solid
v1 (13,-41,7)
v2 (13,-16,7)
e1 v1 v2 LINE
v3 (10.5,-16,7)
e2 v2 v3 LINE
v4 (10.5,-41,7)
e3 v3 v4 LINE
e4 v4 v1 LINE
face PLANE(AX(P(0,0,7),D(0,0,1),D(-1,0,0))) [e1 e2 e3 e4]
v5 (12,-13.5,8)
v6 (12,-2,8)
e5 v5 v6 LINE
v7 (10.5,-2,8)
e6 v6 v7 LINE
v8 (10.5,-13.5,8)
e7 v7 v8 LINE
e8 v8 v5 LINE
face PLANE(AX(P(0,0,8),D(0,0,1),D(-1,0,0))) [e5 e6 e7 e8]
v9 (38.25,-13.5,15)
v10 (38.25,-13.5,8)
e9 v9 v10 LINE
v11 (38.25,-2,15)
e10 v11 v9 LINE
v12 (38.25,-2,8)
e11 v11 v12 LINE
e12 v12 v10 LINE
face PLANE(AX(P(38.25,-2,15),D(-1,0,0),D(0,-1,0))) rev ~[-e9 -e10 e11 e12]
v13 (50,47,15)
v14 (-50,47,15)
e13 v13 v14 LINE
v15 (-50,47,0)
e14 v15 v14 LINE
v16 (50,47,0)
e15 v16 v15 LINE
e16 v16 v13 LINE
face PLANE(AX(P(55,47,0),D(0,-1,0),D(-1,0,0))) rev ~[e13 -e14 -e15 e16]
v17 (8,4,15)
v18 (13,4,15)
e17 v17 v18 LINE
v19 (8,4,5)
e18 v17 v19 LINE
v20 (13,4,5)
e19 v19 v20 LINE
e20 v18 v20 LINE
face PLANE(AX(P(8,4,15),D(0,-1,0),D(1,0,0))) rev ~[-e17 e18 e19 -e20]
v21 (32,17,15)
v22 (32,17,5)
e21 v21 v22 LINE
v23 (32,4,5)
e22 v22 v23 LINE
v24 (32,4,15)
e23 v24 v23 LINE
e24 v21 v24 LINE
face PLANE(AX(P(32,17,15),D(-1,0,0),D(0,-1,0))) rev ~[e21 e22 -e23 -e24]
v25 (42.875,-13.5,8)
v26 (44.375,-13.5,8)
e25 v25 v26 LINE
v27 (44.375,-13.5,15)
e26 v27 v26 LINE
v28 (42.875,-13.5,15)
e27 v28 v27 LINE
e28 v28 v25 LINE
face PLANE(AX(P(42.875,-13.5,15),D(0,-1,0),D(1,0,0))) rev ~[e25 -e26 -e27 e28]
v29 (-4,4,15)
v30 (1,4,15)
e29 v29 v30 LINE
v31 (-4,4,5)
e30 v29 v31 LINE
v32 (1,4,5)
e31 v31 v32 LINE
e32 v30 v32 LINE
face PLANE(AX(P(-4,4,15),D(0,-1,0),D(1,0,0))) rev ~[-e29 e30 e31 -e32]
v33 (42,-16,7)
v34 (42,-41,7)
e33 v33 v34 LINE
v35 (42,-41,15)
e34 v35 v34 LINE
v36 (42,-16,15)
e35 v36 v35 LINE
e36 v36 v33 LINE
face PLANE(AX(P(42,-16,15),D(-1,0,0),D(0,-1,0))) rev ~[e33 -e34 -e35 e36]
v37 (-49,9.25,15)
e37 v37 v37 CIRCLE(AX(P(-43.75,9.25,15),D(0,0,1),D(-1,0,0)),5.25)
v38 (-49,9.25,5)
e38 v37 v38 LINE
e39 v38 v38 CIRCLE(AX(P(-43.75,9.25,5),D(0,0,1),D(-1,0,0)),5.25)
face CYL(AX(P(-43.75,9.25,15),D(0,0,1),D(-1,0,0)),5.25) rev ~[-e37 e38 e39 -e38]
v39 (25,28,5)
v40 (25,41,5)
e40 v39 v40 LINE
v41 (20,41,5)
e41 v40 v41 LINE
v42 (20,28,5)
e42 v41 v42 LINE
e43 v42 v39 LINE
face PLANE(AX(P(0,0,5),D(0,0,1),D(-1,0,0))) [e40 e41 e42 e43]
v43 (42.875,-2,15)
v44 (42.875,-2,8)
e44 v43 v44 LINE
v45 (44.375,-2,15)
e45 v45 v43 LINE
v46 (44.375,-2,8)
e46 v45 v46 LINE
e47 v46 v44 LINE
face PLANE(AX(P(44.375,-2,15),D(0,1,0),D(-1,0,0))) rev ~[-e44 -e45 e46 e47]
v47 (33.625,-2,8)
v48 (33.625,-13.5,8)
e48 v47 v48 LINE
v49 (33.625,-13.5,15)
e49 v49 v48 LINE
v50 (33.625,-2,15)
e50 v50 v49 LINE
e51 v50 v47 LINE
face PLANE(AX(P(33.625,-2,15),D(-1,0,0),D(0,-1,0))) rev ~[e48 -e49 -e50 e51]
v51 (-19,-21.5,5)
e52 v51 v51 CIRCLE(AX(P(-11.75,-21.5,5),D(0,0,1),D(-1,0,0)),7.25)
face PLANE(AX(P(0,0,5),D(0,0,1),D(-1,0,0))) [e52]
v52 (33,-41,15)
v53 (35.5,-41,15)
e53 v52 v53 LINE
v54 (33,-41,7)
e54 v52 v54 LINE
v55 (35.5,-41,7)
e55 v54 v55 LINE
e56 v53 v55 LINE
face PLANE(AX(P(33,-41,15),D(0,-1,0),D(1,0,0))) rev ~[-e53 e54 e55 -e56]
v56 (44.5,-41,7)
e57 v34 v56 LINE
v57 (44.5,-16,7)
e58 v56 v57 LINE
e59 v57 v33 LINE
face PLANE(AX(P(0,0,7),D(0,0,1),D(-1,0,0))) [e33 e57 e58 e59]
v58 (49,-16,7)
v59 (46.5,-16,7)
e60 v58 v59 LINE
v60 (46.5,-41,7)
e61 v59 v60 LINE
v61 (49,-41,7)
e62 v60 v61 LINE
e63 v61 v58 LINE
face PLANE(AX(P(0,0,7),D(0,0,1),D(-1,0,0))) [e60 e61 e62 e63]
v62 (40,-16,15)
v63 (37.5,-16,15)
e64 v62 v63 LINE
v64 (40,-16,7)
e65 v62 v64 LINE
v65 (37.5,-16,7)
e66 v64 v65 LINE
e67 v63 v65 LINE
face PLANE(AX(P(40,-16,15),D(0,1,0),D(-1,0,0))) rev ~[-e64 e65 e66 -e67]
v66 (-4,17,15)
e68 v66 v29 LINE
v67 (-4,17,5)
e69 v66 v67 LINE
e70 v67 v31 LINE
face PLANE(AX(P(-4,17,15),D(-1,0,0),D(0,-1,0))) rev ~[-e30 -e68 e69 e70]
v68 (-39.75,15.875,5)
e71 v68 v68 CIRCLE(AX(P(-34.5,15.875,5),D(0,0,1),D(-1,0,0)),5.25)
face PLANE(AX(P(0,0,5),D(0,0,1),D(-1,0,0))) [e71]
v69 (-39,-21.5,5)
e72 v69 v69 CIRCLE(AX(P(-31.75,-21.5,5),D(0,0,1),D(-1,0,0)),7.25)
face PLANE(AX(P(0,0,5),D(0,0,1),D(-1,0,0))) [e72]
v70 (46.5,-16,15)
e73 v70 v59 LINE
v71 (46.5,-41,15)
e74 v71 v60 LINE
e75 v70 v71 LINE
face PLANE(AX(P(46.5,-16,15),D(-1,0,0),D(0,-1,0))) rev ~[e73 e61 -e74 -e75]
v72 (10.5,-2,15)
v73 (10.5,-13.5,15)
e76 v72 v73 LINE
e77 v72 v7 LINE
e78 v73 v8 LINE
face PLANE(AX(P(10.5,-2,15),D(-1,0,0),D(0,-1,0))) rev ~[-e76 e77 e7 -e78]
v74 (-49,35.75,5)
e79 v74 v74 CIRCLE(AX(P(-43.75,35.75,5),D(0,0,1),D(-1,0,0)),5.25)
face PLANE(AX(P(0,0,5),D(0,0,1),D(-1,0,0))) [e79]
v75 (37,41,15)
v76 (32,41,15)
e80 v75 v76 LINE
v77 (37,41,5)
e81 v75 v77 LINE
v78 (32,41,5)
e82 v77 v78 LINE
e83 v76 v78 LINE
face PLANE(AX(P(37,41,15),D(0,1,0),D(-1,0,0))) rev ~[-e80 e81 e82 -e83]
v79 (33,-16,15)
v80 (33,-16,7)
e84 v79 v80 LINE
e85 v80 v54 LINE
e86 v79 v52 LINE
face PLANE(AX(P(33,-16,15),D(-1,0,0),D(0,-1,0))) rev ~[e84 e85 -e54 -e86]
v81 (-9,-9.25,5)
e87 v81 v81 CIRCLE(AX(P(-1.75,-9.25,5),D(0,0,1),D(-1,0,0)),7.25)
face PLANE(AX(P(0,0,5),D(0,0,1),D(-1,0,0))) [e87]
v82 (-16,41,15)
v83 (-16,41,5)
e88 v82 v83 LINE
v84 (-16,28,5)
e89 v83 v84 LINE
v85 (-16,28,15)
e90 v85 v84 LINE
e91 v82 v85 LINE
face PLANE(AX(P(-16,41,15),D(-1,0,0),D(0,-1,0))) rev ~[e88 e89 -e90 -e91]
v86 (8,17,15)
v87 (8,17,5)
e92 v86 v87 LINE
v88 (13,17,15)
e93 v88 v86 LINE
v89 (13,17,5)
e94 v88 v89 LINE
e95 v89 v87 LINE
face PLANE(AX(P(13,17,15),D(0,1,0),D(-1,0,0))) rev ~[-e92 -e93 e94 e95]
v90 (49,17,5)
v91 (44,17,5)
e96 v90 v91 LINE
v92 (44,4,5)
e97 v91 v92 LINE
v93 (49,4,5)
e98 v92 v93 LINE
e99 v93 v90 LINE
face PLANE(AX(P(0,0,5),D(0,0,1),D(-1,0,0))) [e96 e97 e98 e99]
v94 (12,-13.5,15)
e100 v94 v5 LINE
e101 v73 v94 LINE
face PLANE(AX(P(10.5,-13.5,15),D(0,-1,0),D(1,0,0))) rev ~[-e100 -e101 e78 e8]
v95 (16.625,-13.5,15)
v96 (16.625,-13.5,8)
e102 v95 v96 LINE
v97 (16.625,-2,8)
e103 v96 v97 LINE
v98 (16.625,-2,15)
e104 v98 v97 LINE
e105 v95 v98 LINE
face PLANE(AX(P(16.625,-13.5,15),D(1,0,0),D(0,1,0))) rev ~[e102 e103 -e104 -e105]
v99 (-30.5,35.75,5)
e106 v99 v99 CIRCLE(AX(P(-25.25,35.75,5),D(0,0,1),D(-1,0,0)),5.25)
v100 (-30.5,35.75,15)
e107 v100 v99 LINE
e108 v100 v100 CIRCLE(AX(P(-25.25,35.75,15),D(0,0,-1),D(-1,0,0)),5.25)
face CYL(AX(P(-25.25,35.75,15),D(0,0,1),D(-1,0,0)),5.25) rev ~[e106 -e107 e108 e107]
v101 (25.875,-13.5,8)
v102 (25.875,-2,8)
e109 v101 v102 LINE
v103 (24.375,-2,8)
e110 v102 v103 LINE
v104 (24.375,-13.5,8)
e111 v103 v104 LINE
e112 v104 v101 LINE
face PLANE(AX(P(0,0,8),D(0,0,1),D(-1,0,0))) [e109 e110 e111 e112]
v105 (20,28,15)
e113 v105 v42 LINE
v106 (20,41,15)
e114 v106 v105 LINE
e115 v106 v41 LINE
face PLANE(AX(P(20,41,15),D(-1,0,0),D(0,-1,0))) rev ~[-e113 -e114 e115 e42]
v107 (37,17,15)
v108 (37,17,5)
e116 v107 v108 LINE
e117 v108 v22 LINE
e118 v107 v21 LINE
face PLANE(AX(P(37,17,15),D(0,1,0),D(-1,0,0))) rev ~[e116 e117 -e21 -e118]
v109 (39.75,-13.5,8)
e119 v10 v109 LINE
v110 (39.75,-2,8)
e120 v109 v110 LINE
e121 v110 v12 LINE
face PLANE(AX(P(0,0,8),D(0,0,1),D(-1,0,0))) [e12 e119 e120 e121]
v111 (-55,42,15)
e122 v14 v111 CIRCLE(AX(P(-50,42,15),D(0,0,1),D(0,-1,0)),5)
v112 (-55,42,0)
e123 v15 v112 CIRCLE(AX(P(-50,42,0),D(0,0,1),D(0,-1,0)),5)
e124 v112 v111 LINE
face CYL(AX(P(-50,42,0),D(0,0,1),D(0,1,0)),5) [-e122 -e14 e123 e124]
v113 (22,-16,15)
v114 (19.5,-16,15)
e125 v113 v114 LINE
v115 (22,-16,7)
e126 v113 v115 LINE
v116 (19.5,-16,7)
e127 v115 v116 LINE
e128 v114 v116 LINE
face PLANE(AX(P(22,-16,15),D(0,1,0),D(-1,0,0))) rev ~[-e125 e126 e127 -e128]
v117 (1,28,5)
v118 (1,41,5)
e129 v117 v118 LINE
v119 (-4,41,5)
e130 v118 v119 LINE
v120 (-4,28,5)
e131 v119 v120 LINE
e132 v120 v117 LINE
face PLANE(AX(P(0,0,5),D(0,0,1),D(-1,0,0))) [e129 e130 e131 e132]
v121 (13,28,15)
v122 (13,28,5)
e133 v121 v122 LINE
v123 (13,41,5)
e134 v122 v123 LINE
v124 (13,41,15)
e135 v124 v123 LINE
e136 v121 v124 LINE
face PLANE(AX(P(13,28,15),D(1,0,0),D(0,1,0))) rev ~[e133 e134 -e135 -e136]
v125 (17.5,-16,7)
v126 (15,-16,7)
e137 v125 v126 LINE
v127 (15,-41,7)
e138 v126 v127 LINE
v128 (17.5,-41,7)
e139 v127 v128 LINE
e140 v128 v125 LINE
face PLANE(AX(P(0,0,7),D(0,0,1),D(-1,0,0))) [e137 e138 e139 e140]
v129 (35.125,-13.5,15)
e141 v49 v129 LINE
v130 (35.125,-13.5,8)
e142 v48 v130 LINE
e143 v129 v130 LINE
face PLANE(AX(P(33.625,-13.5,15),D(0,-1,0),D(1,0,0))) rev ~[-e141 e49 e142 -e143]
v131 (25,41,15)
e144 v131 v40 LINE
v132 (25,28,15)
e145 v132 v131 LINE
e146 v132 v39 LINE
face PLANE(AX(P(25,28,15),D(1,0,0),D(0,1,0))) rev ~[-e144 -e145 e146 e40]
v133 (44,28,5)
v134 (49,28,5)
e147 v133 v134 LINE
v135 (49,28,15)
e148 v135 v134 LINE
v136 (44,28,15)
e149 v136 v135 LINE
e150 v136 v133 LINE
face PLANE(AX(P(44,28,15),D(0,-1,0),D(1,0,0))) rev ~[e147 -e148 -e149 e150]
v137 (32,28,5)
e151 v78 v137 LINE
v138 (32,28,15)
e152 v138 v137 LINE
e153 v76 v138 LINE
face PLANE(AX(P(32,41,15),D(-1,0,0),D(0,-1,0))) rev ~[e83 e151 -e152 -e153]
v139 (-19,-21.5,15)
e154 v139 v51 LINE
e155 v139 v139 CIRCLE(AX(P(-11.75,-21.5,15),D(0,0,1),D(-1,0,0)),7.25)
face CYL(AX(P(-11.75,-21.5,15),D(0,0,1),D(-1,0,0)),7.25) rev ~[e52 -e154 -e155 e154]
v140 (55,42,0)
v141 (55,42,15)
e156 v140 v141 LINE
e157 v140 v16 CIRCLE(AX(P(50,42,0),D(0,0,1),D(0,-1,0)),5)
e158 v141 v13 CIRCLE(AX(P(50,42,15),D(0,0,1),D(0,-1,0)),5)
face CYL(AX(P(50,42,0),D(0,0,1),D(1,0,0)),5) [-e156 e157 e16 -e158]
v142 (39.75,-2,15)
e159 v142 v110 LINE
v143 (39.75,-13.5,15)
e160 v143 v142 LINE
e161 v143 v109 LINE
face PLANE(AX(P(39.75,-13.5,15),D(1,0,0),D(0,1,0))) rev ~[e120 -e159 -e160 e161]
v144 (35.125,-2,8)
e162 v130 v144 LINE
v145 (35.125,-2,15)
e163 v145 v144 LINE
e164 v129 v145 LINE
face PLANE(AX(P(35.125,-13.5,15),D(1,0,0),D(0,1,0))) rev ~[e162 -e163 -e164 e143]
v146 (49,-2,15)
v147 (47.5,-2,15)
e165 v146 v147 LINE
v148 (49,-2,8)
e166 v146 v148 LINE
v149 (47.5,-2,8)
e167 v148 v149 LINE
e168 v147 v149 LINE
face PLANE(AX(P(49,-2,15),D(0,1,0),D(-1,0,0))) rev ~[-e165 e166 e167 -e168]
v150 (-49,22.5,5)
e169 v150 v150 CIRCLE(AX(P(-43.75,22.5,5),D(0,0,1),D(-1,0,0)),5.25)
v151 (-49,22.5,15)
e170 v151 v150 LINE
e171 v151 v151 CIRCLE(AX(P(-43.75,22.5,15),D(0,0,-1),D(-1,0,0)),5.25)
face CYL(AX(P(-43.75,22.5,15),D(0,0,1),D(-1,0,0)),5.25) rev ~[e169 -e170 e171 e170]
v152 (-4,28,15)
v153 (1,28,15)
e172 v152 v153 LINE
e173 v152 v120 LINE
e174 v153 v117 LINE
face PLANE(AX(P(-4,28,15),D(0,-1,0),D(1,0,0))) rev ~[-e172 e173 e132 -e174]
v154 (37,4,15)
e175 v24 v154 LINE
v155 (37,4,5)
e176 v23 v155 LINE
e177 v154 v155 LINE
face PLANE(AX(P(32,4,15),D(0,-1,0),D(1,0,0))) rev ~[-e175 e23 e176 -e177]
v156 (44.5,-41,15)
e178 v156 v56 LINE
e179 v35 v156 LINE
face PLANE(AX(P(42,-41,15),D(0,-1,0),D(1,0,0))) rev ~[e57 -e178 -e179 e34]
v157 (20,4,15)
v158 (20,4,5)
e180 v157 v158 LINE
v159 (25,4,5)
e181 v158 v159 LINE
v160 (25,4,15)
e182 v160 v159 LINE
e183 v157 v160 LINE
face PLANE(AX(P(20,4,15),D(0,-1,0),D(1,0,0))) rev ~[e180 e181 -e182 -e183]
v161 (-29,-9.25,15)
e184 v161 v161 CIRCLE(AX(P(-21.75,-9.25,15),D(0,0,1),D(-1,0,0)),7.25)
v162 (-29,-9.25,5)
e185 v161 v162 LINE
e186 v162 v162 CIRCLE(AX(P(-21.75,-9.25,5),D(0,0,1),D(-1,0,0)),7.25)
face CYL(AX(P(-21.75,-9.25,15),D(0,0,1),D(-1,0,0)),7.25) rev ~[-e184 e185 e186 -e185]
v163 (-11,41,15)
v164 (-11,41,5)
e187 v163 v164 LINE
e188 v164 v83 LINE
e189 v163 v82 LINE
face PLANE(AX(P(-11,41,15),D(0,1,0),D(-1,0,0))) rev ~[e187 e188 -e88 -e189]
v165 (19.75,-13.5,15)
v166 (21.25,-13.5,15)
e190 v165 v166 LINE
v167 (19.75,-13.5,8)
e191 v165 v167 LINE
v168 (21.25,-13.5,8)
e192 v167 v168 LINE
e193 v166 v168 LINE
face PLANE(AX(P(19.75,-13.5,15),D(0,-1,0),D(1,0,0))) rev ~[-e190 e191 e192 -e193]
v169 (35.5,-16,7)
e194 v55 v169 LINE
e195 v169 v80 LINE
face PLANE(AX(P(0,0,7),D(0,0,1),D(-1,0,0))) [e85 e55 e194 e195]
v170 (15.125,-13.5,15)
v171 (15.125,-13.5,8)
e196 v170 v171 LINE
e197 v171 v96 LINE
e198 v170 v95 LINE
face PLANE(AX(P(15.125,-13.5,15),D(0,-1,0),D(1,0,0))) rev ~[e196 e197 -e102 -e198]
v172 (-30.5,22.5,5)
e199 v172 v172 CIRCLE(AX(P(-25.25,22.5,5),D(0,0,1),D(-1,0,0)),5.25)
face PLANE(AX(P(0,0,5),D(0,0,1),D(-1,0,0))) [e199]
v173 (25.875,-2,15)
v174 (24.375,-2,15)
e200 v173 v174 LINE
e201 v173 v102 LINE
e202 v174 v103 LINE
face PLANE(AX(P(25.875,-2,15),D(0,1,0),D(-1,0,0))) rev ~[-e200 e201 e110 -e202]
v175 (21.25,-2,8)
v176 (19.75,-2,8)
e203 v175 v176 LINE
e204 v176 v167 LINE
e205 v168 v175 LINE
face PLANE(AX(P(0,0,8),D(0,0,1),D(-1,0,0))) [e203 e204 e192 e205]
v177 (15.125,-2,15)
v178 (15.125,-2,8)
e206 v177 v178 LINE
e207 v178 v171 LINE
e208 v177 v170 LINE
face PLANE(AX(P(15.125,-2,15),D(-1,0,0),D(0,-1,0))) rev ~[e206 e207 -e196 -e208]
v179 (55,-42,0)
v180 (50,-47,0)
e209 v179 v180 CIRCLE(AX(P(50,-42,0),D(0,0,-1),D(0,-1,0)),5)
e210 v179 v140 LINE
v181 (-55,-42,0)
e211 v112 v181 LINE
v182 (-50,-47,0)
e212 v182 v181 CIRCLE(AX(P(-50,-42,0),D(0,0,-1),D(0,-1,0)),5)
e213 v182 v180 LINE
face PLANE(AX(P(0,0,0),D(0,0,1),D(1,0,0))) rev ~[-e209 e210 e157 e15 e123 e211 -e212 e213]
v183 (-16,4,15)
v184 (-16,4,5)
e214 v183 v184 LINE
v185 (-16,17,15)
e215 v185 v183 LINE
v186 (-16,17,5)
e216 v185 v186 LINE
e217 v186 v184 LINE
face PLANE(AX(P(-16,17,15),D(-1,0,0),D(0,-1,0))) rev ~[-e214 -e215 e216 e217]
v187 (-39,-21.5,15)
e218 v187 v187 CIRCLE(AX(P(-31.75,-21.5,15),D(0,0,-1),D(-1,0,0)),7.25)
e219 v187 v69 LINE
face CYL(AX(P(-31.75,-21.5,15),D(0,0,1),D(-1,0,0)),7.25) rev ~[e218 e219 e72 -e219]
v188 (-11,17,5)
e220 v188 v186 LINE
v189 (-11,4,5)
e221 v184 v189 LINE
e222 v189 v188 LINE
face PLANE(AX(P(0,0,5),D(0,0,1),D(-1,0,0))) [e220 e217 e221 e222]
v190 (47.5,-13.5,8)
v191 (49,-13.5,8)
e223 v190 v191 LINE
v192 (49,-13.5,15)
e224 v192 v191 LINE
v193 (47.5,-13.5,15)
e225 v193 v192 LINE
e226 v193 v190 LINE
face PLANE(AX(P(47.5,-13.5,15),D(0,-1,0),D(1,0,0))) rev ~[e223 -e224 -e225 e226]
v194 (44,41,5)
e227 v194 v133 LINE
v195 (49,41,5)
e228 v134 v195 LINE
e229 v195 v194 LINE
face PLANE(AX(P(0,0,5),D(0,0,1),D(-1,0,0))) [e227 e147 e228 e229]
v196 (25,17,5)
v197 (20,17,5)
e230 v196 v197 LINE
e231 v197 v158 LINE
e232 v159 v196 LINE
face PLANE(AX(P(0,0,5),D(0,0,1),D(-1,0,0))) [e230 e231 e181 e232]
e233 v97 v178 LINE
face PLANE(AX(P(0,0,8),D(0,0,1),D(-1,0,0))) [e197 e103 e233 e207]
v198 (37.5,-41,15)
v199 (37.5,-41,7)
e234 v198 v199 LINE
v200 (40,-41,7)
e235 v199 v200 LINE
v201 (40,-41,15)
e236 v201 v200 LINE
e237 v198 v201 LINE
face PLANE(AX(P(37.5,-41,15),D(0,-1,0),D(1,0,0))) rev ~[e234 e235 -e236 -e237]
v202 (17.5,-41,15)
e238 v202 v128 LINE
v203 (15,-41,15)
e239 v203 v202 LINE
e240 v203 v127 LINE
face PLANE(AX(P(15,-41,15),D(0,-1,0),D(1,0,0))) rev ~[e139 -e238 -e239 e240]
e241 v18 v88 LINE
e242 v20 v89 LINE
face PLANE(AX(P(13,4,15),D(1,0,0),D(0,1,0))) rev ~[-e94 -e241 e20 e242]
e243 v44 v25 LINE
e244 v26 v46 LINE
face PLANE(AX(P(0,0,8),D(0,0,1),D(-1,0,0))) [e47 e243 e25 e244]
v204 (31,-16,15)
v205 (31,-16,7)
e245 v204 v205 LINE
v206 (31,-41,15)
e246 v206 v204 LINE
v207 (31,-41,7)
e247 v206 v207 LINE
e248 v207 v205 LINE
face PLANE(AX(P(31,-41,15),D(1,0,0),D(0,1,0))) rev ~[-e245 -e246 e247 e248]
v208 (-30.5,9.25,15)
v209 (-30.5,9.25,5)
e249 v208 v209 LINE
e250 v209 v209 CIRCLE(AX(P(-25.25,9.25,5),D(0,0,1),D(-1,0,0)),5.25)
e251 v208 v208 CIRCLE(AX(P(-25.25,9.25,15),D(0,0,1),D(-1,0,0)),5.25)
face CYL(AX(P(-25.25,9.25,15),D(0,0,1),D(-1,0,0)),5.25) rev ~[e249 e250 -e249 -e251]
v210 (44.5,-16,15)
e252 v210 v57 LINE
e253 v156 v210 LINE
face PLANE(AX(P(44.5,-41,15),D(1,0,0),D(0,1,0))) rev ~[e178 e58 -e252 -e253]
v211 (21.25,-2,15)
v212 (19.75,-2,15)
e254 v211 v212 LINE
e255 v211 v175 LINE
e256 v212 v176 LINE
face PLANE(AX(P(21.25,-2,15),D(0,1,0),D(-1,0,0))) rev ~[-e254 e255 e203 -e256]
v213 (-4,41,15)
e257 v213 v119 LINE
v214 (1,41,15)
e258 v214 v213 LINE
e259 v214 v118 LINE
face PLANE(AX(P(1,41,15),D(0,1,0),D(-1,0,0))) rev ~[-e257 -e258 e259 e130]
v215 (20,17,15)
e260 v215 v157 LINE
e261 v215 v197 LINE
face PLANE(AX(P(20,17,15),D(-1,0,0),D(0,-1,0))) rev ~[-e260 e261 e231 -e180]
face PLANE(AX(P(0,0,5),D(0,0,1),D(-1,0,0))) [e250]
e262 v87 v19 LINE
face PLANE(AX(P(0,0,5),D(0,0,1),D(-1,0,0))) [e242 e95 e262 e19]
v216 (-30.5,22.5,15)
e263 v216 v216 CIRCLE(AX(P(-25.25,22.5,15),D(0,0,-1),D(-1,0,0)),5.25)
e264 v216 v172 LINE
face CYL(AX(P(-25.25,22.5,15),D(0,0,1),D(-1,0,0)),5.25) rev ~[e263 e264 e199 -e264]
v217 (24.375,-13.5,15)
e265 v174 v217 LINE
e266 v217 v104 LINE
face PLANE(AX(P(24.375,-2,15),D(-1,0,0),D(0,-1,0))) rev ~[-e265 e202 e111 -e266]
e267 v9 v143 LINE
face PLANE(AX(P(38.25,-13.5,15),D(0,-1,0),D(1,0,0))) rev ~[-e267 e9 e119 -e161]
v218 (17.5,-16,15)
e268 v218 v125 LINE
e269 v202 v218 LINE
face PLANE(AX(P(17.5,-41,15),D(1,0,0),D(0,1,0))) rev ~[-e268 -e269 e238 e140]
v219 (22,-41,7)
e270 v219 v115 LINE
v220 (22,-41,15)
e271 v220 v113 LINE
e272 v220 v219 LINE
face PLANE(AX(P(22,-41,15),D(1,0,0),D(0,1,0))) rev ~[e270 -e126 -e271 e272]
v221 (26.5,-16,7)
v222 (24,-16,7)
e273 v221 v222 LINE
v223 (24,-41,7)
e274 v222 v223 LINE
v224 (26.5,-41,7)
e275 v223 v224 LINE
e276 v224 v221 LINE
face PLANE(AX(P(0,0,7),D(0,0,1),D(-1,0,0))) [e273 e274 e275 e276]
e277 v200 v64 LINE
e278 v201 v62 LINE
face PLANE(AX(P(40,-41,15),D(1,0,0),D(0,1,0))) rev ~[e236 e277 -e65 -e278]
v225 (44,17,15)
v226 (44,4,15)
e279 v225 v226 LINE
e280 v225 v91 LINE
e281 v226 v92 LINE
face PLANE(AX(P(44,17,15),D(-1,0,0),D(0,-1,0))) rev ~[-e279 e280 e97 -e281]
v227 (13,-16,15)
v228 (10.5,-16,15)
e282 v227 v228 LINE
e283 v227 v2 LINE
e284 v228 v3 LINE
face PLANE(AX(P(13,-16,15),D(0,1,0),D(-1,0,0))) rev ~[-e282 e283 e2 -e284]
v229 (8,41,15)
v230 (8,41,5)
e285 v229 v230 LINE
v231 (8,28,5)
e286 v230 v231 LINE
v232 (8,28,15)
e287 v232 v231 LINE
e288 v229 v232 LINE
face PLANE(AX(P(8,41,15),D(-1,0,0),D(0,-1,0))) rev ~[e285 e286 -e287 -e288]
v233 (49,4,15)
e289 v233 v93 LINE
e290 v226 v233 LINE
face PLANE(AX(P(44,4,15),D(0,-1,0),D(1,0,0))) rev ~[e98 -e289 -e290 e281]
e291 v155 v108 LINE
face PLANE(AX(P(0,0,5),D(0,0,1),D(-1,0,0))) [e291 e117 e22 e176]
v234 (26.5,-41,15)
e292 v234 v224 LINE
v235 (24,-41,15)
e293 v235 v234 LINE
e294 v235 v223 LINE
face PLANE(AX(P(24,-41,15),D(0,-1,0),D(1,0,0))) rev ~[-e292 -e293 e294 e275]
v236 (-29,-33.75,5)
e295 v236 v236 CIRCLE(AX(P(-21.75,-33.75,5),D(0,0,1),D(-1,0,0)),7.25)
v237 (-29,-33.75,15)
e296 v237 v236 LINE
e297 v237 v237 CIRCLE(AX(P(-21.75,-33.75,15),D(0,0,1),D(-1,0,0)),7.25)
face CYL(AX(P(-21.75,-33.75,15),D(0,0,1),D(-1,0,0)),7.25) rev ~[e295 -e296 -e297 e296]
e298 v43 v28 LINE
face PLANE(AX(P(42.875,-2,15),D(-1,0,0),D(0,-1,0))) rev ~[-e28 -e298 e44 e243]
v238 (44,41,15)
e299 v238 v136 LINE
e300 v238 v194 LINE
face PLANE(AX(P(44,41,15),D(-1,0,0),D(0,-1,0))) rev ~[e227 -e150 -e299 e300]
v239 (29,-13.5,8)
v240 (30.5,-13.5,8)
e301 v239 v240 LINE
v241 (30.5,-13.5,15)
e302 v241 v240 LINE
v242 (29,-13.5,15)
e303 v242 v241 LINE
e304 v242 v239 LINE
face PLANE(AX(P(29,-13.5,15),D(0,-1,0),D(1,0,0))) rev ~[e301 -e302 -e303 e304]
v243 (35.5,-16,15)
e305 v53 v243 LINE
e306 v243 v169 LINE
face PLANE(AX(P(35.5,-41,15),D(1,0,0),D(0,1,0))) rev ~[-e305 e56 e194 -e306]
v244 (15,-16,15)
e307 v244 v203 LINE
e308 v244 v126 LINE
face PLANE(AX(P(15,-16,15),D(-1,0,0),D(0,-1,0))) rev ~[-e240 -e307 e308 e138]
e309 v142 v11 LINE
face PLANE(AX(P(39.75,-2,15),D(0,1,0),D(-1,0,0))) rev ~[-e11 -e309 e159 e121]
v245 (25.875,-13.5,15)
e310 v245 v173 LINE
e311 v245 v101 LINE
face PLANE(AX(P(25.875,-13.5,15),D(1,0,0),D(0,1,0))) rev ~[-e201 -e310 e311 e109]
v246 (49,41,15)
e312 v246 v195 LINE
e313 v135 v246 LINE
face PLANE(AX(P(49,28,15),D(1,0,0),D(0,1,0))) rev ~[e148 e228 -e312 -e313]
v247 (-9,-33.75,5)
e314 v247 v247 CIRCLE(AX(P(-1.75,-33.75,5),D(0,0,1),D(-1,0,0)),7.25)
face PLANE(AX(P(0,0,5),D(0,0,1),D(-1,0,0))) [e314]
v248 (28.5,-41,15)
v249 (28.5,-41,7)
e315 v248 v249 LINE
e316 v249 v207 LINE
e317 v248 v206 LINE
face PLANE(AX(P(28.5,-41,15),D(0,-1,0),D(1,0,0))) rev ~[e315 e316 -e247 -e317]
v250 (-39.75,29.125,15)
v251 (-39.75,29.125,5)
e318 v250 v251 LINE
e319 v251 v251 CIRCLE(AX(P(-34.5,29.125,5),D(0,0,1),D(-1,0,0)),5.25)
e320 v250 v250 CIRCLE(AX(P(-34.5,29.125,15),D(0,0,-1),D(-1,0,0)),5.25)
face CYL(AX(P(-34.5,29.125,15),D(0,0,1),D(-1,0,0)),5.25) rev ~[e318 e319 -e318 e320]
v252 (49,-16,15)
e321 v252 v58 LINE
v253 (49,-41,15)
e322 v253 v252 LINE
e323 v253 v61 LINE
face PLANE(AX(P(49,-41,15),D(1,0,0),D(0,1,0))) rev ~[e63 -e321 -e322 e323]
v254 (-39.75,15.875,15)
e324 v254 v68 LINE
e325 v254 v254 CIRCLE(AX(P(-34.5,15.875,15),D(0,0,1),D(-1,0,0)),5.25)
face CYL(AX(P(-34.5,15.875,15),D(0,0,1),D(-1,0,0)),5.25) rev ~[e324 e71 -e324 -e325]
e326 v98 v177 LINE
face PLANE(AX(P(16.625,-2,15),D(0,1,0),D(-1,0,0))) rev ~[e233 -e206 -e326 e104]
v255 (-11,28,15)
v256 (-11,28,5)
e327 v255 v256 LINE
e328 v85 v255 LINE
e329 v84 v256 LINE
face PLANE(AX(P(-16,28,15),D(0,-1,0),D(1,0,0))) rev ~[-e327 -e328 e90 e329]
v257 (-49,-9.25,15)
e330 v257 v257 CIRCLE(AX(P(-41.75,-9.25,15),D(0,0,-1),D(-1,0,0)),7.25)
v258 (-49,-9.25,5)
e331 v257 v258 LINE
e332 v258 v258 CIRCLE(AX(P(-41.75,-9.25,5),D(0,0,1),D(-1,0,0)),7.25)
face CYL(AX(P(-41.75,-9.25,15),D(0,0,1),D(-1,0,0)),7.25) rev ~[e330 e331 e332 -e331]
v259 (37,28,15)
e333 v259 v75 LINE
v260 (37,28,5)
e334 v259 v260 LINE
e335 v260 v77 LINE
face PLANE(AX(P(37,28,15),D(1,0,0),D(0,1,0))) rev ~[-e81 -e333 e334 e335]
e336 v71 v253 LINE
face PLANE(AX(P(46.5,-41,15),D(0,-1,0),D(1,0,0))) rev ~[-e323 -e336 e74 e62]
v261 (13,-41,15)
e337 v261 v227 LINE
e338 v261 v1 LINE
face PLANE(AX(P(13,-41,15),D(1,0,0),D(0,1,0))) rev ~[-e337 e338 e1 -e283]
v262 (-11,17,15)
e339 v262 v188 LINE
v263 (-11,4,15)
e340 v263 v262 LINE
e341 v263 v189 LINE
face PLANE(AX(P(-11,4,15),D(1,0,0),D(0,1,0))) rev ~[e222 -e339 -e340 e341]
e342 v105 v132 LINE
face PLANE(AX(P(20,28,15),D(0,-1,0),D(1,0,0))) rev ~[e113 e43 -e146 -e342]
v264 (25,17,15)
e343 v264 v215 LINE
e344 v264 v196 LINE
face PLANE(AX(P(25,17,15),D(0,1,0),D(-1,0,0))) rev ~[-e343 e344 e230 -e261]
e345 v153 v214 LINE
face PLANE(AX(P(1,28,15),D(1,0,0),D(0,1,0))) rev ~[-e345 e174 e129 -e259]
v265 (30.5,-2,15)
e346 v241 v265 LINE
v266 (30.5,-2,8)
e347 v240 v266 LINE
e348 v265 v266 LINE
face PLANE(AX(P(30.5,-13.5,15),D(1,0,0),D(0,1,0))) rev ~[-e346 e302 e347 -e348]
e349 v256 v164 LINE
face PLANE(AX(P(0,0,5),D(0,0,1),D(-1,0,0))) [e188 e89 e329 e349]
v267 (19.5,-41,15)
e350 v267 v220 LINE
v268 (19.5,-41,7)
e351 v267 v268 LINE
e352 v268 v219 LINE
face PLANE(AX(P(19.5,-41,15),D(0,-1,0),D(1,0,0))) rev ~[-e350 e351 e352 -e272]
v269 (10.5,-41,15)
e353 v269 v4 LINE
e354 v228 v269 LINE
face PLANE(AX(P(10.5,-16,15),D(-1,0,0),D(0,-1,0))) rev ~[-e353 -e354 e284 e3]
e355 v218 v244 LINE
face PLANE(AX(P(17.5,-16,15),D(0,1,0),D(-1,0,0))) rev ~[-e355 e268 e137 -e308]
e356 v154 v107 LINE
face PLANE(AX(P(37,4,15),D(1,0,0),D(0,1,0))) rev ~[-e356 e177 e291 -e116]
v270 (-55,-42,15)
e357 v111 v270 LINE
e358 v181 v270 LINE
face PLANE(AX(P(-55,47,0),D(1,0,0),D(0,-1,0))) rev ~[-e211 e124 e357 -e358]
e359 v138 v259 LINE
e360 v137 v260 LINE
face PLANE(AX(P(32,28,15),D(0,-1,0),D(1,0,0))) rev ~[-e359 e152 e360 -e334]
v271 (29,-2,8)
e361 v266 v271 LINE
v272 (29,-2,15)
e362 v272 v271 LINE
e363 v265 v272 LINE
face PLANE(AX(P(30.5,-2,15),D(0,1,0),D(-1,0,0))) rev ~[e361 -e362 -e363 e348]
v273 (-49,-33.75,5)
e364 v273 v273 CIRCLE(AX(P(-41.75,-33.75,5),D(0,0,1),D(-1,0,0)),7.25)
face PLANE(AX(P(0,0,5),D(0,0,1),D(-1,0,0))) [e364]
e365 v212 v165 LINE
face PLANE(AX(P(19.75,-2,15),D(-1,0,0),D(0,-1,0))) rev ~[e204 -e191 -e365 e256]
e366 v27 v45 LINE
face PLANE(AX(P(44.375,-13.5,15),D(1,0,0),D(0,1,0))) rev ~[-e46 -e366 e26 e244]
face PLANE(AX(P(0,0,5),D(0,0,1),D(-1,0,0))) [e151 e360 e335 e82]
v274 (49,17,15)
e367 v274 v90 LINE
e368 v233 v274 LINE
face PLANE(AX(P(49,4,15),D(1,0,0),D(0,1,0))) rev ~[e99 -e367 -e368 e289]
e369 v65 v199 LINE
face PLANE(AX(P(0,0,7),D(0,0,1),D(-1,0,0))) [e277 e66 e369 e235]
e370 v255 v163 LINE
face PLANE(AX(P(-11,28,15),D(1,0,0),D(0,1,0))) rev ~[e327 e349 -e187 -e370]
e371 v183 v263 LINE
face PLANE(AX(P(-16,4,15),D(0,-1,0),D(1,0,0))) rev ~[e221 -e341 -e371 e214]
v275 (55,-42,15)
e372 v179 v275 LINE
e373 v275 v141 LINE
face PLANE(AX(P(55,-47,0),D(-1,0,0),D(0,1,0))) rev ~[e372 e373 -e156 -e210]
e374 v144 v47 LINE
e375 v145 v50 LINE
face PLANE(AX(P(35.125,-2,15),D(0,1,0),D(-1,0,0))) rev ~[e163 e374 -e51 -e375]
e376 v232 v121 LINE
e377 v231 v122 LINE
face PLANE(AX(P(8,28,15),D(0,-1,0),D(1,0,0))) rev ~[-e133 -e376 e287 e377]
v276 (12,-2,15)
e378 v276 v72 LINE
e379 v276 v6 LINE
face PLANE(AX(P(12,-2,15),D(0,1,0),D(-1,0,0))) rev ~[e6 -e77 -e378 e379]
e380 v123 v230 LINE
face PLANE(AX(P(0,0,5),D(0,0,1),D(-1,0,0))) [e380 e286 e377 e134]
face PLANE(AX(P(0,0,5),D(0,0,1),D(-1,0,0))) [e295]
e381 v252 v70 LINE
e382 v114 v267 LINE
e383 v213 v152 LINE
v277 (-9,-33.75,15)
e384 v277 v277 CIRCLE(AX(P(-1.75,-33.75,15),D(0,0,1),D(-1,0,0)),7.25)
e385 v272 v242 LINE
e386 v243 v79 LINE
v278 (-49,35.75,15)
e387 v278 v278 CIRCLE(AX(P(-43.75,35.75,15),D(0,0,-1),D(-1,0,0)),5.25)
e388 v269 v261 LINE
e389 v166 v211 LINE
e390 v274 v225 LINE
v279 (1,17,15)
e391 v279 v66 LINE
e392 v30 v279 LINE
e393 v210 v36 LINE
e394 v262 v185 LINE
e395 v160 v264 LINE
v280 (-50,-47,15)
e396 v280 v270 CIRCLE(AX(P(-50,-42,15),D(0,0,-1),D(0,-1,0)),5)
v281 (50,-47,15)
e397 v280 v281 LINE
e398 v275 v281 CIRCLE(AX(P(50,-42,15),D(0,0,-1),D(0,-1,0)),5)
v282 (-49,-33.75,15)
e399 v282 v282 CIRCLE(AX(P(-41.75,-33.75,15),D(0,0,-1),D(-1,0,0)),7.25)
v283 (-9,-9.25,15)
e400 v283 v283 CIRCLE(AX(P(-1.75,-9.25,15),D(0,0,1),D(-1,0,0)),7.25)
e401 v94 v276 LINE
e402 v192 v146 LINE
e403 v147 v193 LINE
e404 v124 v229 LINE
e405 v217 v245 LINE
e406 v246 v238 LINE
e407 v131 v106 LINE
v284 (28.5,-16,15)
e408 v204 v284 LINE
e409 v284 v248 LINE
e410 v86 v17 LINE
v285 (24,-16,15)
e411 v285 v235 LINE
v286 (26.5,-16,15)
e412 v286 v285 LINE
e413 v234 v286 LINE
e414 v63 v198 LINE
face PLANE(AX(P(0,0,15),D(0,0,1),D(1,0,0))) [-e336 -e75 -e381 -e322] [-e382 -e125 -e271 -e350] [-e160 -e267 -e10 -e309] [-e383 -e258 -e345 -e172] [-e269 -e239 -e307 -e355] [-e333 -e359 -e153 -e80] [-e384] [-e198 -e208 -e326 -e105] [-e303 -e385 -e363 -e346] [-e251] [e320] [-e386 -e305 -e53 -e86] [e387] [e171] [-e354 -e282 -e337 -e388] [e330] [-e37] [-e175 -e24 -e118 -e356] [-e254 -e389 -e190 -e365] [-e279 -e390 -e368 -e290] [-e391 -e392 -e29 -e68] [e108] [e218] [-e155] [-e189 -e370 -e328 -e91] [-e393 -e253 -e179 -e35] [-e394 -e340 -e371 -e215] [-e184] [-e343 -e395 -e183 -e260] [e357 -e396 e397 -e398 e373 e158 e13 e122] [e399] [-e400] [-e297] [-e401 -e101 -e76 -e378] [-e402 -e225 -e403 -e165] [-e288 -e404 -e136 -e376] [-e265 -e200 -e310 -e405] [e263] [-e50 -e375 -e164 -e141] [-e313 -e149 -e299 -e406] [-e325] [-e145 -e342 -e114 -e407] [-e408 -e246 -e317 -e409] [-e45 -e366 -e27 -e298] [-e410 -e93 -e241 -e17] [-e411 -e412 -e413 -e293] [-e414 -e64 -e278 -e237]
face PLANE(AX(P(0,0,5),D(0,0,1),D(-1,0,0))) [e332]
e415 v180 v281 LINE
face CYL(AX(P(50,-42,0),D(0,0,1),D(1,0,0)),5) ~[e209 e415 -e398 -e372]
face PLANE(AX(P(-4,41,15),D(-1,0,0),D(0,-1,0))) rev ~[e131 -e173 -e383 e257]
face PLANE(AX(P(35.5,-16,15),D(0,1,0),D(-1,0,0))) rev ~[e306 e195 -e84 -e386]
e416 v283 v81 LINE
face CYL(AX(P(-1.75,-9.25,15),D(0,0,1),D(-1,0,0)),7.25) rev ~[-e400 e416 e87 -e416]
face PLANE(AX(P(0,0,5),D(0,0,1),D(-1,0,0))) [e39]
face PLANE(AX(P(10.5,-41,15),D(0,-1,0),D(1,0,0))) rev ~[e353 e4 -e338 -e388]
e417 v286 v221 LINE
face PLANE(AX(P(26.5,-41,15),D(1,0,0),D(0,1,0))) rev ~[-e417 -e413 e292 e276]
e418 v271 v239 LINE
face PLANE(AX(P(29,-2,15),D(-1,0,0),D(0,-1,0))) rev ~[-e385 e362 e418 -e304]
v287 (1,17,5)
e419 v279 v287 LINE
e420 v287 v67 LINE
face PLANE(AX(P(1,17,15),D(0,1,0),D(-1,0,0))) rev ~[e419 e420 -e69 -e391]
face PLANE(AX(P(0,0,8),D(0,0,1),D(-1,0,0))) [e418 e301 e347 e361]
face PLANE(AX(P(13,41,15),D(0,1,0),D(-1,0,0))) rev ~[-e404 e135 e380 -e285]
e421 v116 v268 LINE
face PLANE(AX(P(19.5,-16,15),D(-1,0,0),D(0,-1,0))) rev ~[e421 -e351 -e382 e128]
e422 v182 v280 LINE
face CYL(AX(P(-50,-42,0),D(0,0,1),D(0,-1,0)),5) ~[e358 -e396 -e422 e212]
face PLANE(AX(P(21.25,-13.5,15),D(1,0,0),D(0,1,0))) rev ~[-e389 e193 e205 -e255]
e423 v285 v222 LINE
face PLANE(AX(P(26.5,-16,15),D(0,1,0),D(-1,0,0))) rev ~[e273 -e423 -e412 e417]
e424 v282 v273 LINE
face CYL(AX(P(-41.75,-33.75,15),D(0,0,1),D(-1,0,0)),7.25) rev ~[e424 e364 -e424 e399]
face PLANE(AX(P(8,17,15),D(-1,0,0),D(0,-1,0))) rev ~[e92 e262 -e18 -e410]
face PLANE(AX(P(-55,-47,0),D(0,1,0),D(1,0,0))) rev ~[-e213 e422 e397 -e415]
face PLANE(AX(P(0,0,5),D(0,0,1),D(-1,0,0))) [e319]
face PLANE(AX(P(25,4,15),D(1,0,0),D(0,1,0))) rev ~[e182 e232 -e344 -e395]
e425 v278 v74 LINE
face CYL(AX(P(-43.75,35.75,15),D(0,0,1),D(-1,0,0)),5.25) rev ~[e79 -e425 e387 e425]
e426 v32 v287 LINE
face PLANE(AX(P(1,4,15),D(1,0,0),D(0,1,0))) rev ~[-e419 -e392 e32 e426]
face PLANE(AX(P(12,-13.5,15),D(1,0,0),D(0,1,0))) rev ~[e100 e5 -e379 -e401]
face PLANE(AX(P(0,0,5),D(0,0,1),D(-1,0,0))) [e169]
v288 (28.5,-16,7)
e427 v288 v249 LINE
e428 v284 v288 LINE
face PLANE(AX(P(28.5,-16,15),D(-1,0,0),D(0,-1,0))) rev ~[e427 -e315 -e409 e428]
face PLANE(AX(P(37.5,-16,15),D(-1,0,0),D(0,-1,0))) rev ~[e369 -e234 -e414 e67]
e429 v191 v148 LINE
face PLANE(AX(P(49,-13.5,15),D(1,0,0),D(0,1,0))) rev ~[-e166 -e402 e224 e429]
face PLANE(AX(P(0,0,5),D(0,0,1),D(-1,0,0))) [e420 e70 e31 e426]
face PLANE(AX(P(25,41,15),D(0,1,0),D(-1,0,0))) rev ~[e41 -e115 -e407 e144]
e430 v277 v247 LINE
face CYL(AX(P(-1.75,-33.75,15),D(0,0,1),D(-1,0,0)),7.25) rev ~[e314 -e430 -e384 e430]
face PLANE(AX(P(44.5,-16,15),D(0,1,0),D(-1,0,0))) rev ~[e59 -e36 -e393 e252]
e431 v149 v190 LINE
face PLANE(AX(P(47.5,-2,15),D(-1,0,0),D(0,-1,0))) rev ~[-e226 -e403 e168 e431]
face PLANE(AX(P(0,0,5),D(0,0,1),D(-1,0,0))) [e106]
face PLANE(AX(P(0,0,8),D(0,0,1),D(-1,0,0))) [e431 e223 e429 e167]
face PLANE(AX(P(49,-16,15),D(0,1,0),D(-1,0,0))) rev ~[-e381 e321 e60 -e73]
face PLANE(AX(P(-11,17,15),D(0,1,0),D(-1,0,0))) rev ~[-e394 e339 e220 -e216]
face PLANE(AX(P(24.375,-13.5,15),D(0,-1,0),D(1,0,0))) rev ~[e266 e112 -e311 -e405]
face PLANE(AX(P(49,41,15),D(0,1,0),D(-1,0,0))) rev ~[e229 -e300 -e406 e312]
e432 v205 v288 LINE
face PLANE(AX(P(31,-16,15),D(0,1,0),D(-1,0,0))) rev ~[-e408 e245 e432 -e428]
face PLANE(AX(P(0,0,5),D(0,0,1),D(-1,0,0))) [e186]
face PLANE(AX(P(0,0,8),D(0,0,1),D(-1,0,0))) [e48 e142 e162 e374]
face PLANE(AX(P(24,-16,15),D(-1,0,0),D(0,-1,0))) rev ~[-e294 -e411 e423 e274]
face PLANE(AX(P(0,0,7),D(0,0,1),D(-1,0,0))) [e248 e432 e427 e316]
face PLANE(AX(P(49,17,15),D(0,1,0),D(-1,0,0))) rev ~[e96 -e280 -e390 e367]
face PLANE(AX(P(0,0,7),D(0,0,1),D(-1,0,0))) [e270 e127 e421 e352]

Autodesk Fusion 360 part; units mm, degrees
sketch "Sketch1" plane through (0, 0, 0) normal (0, 0, 1) x (1, 0, 0)
  line L0 (55, 47) -> (-55, 47)
  line L1 (-55, 47) -> (-55, -47)
  line L2 (-55, -47) -> (55, -47)
  line L3 (55, -47) -> (55, 47)
  line L4 (55, 47) -> (-55, -47) construction
  line L5 (-55, 47) -> (55, -47) construction
  dimension "d1" = 110
  dimension "d2" = 94
extrude "Extrude1" add sketch "Sketch1" along normal blind 15
sketch "Sketch2" plane through (0, 0, 15) normal (0, 0, 1) x (-1, 0, 0)
  line L0 (-55, 47) -> (-55, -47)
  line L1 (-55, -47) -> (55, -47)
  line L2 (55, -47) -> (55, 47)
  line L3 (55, 47) -> (-55, 47)
  line L4 (49, -41) -> (-49, -41) construction
  line L5 (-49, -41) -> (-49, 41) construction
  line L6 (-49, 41) -> (49, 41) construction
  line L7 (49, 41) -> (49, -41) construction
  line L8 (-49, -41) -> (-44, -41)
  line L9 (-44, -41) -> (-44, -28)
  line L10 (-44, -28) -> (-49, -28)
  line L11 (-49, -28) -> (-49, -41)
  line L12 (-32, -41) -> (-32, -28)
  line L13 (-32, -28) -> (-37, -28)
  line L14 (-37, -28) -> (-37, -41)
  line L15 (-37, -41) -> (-32, -41)
  line L16 (-20, -41) -> (-20, -28)
  line L17 (-20, -28) -> (-25, -28)
  line L18 (-25, -28) -> (-25, -41)
  line L19 (-25, -41) -> (-20, -41)
  line L20 (-8, -41) -> (-8, -28)
  line L21 (-8, -28) -> (-13, -28)
  line L22 (-13, -28) -> (-13, -41)
  line L23 (-13, -41) -> (-8, -41)
  line L24 (4, -41) -> (4, -28)
  line L25 (4, -28) -> (-1, -28)
  line L26 (-1, -28) -> (-1, -41)
  line L27 (-1, -41) -> (4, -41)
  line L28 (16, -41) -> (16, -28)
  line L29 (16, -28) -> (11, -28)
  line L30 (11, -28) -> (11, -41)
  line L31 (11, -41) -> (16, -41)
  line L32 (-44, -17) -> (-44, -4)
  line L33 (-44, -4) -> (-49, -4)
  line L34 (-49, -4) -> (-49, -17)
  line L35 (-49, -17) -> (-44, -17)
  line L36 (-32, -17) -> (-32, -4)
  line L37 (-32, -4) -> (-37, -4)
  line L38 (-37, -4) -> (-37, -17)
  line L39 (-37, -17) -> (-32, -17)
  line L40 (-20, -17) -> (-20, -4)
  line L41 (-20, -4) -> (-25, -4)
  line L42 (-25, -4) -> (-25, -17)
  line L43 (-25, -17) -> (-20, -17)
  line L44 (-8, -17) -> (-8, -4)
  line L45 (-8, -4) -> (-13, -4)
  line L46 (-13, -4) -> (-13, -17)
  line L47 (-13, -17) -> (-8, -17)
  line L48 (4, -17) -> (4, -4)
  line L49 (4, -4) -> (-1, -4)
  line L50 (-1, -4) -> (-1, -17)
  line L51 (-1, -17) -> (4, -17)
  line L52 (16, -17) -> (16, -4)
  line L53 (16, -4) -> (11, -4)
  line L54 (11, -4) -> (11, -17)
  line L55 (11, -17) -> (16, -17)
  line L56 (-49, 2) -> (-47.5, 2)
  line L57 (-47.5, 2) -> (-47.5, 13.5)
  line L58 (-47.5, 13.5) -> (-49, 13.5)
  line L59 (-49, 13.5) -> (-49, 2)
  line L60 (-44.375, 2) -> (-42.875, 2)
  line L61 (-42.875, 2) -> (-42.875, 13.5)
  line L62 (-42.875, 13.5) -> (-44.375, 13.5)
  line L63 (-44.375, 13.5) -> (-44.375, 2)
  line L64 (-39.75, 2) -> (-38.25, 2)
  line L65 (-38.25, 2) -> (-38.25, 13.5)
  line L66 (-38.25, 13.5) -> (-39.75, 13.5)
  line L67 (-39.75, 13.5) -> (-39.75, 2)
  line L68 (-35.125, 2) -> (-33.625, 2)
  line L69 (-33.625, 2) -> (-33.625, 13.5)
  line L70 (-33.625, 13.5) -> (-35.125, 13.5)
  line L71 (-35.125, 13.5) -> (-35.125, 2)
  line L72 (-30.5, 2) -> (-29, 2)
  line L73 (-29, 2) -> (-29, 13.5)
  line L74 (-29, 13.5) -> (-30.5, 13.5)
  line L75 (-30.5, 13.5) -> (-30.5, 2)
  line L76 (-25.875, 2) -> (-24.375, 2)
  line L77 (-24.375, 2) -> (-24.375, 13.5)
  line L78 (-24.375, 13.5) -> (-25.875, 13.5)
  line L79 (-25.875, 13.5) -> (-25.875, 2)
  line L80 (-21.25, 2) -> (-19.75, 2)
  line L81 (-19.75, 2) -> (-19.75, 13.5)
  line L82 (-19.75, 13.5) -> (-21.25, 13.5)
  line L83 (-21.25, 13.5) -> (-21.25, 2)
  line L84 (-16.625, 2) -> (-15.125, 2)
  line L85 (-15.125, 2) -> (-15.125, 13.5)
  line L86 (-15.125, 13.5) -> (-16.625, 13.5)
  line L87 (-16.625, 13.5) -> (-16.625, 2)
  line L88 (-12, 2) -> (-10.5, 2)
  line L89 (-10.5, 2) -> (-10.5, 13.5)
  line L90 (-10.5, 13.5) -> (-12, 13.5)
  line L91 (-12, 13.5) -> (-12, 2)
  line L92 (-49, 16) -> (-46.5, 16)
  line L93 (-46.5, 16) -> (-46.5, 41)
  line L94 (-46.5, 41) -> (-49, 41)
  line L95 (-49, 41) -> (-49, 16)
  line L96 (-42, 16) -> (-42, 41)
  line L97 (-44.5, 16) -> (-42, 16)
  line L98 (-42, 41) -> (-44.5, 41)
  line L99 (-44.5, 41) -> (-44.5, 16)
  line L100 (-37.5, 16) -> (-37.5, 41)
  line L101 (-40, 16) -> (-37.5, 16)
  line L102 (-37.5, 41) -> (-40, 41)
  line L103 (-40, 41) -> (-40, 16)
  line L104 (-33, 16) -> (-33, 41)
  line L105 (-35.5, 16) -> (-33, 16)
  line L106 (-33, 41) -> (-35.5, 41)
  line L107 (-35.5, 41) -> (-35.5, 16)
  line L108 (-28.5, 16) -> (-28.5, 41)
  line L109 (-31, 16) -> (-28.5, 16)
  line L110 (-28.5, 41) -> (-31, 41)
  line L111 (-31, 41) -> (-31, 16)
  line L112 (-24, 16) -> (-24, 41)
  line L113 (-26.5, 16) -> (-24, 16)
  line L114 (-24, 41) -> (-26.5, 41)
  line L115 (-26.5, 41) -> (-26.5, 16)
  line L116 (-19.5, 16) -> (-19.5, 41)
  line L117 (-22, 16) -> (-19.5, 16)
  line L118 (-19.5, 41) -> (-22, 41)
  line L119 (-22, 41) -> (-22, 16)
  line L120 (-15, 16) -> (-15, 41)
  line L121 (-17.5, 16) -> (-15, 16)
  line L122 (-15, 41) -> (-17.5, 41)
  line L123 (-17.5, 41) -> (-17.5, 16)
  line L124 (-10.5, 16) -> (-10.5, 41)
  line L125 (-13, 16) -> (-10.5, 16)
  line L126 (-10.5, 41) -> (-13, 41)
  line L127 (-13, 41) -> (-13, 16)
  circle A0 centre (43.75, -35.75) radius 5.25
  circle A1 centre (25.25, -35.75) radius 5.25
  circle A2 centre (43.75, -22.5) radius 5.25
  circle A3 centre (25.25, -22.5) radius 5.25
  circle A4 centre (43.75, -9.25) radius 5.25
  circle A5 centre (25.25, -9.25) radius 5.25
  line L128 (43.75, -35.75) -> (43.75, -22.5)
  line L129 (25.25, -35.75) -> (25.25, -22.5)
  circle A6 centre (34.5, -29.125) radius 5.25
  circle A7 centre (34.5, -15.875) radius 5.25
  circle A8 centre (41.75, 33.75) radius 7.25
  circle A9 centre (21.75, 33.75) radius 7.25
  circle A10 centre (1.75, 33.75) radius 7.25
  circle A11 centre (41.75, 9.25) radius 7.25
  circle A12 centre (21.75, 9.25) radius 7.25
  circle A13 centre (1.75, 9.25) radius 7.25
  line L130 (41.75, 33.75) -> (21.75, 33.75)
  line L131 (41.75, 9.25) -> (21.75, 9.25)
  circle A14 centre (31.75, 21.5) radius 7.25
  circle A15 centre (11.75, 21.5) radius 7.25
  line L132 (31.75, 33.75) -> (31.75, 28.75)
  line L133 (31.75, 14.25) -> (31.75, 9.25)
  line L134 (43.75, -29.125) -> (39.75, -29.125)
  line L135 (29.25, -29.125) -> (25.25, -29.125)
  dimension "d5" = 98
  dimension "d6" = 82
  dimension "d7" = 6
  dimension "d8" = 6
  dimension "d9" = 5
  dimension "d10" = 13
  dimension "d13" = 12
  dimension "d14" = 24
  dimension "d15" = 1.5
  dimension "d16" = 11.5
  dimension "d17" = 6
  dimension "d20" = 4.625
  dimension "d21" = 0
  dimension "d22" = 2.5
  dimension "d23" = 25
  dimension "d24" = 2.5
  dimension "d27" = 4.5
  dimension "d28" = 0
  dimension "d29" = 10.5
  dimension "d30" = 5.25
  dimension "d31" = 5.25
  dimension "d34" = -18.5
  dimension "d35" = 13.25
  dimension "d36" = 10.5
  dimension "d39" = 0
  dimension "d40" = 13.25
  dimension "d41" = 14.5
  dimension "d42" = 7.25
  dimension "d43" = 7.25
  dimension "d46" = -20
  dimension "d47" = -24.5
  dimension "d48" = 14.5
  dimension "d51" = -20
  dimension "d52" = 0
extrude "Extrude2" cut sketch "Sketch2" against normal blind 10 contours L8 L9 L10 L11 | L12 L13 L14 L15 | L16 L17 L18 L19 | L20 L21 L22 L23 | L24 L25 L26 L27 | L28 L29 L30 L31 | L32 L33 L34 L35 | L36 L37 L38 L39 | L40 L41 L42 L43 | L44 L45 L46 L47 | L48 L49 L50 L51 | L52 L53 L54 L55
extrude "Extrude3" cut sketch "Sketch2" against normal blind 7 contours L56 L57 L58 L59 | L60 L61 L62 L63 | L64 L65 L66 L67 | L68 L69 L70 L71 | L72 L73 L74 L75 | L76 L77 L78 L79 | L80 L81 L82 L83 | L84 L85 L86 L87 | L88 L89 L90 L91
extrude "Extrude4" cut sketch "Sketch2" against normal blind 8 contours L92 L93 L94 L95 | L96 L97 L98 L99 | L100 L101 L102 L103 | L104 L105 L106 L107 | L108 L109 L110 L111 | L112 L113 L114 L115 | L116 L117 L118 L119 | L120 L121 L122 L123 | L124 L125 L126 L127
extrude "Extrude5" cut sketch "Sketch2" against normal blind 10 contours A0 | A1 | A3 | A6 | A2 | A4 | A5 | A7 | A8 | A11 | A12 | A14 | A9 | A10 | A13 | A15
fillet "Fillet1" radius 5 4 edges at (55, -47, 7.5) (55, 47, 7.5) (-55, 47, 7.5) (-55, -47, 7.5)
